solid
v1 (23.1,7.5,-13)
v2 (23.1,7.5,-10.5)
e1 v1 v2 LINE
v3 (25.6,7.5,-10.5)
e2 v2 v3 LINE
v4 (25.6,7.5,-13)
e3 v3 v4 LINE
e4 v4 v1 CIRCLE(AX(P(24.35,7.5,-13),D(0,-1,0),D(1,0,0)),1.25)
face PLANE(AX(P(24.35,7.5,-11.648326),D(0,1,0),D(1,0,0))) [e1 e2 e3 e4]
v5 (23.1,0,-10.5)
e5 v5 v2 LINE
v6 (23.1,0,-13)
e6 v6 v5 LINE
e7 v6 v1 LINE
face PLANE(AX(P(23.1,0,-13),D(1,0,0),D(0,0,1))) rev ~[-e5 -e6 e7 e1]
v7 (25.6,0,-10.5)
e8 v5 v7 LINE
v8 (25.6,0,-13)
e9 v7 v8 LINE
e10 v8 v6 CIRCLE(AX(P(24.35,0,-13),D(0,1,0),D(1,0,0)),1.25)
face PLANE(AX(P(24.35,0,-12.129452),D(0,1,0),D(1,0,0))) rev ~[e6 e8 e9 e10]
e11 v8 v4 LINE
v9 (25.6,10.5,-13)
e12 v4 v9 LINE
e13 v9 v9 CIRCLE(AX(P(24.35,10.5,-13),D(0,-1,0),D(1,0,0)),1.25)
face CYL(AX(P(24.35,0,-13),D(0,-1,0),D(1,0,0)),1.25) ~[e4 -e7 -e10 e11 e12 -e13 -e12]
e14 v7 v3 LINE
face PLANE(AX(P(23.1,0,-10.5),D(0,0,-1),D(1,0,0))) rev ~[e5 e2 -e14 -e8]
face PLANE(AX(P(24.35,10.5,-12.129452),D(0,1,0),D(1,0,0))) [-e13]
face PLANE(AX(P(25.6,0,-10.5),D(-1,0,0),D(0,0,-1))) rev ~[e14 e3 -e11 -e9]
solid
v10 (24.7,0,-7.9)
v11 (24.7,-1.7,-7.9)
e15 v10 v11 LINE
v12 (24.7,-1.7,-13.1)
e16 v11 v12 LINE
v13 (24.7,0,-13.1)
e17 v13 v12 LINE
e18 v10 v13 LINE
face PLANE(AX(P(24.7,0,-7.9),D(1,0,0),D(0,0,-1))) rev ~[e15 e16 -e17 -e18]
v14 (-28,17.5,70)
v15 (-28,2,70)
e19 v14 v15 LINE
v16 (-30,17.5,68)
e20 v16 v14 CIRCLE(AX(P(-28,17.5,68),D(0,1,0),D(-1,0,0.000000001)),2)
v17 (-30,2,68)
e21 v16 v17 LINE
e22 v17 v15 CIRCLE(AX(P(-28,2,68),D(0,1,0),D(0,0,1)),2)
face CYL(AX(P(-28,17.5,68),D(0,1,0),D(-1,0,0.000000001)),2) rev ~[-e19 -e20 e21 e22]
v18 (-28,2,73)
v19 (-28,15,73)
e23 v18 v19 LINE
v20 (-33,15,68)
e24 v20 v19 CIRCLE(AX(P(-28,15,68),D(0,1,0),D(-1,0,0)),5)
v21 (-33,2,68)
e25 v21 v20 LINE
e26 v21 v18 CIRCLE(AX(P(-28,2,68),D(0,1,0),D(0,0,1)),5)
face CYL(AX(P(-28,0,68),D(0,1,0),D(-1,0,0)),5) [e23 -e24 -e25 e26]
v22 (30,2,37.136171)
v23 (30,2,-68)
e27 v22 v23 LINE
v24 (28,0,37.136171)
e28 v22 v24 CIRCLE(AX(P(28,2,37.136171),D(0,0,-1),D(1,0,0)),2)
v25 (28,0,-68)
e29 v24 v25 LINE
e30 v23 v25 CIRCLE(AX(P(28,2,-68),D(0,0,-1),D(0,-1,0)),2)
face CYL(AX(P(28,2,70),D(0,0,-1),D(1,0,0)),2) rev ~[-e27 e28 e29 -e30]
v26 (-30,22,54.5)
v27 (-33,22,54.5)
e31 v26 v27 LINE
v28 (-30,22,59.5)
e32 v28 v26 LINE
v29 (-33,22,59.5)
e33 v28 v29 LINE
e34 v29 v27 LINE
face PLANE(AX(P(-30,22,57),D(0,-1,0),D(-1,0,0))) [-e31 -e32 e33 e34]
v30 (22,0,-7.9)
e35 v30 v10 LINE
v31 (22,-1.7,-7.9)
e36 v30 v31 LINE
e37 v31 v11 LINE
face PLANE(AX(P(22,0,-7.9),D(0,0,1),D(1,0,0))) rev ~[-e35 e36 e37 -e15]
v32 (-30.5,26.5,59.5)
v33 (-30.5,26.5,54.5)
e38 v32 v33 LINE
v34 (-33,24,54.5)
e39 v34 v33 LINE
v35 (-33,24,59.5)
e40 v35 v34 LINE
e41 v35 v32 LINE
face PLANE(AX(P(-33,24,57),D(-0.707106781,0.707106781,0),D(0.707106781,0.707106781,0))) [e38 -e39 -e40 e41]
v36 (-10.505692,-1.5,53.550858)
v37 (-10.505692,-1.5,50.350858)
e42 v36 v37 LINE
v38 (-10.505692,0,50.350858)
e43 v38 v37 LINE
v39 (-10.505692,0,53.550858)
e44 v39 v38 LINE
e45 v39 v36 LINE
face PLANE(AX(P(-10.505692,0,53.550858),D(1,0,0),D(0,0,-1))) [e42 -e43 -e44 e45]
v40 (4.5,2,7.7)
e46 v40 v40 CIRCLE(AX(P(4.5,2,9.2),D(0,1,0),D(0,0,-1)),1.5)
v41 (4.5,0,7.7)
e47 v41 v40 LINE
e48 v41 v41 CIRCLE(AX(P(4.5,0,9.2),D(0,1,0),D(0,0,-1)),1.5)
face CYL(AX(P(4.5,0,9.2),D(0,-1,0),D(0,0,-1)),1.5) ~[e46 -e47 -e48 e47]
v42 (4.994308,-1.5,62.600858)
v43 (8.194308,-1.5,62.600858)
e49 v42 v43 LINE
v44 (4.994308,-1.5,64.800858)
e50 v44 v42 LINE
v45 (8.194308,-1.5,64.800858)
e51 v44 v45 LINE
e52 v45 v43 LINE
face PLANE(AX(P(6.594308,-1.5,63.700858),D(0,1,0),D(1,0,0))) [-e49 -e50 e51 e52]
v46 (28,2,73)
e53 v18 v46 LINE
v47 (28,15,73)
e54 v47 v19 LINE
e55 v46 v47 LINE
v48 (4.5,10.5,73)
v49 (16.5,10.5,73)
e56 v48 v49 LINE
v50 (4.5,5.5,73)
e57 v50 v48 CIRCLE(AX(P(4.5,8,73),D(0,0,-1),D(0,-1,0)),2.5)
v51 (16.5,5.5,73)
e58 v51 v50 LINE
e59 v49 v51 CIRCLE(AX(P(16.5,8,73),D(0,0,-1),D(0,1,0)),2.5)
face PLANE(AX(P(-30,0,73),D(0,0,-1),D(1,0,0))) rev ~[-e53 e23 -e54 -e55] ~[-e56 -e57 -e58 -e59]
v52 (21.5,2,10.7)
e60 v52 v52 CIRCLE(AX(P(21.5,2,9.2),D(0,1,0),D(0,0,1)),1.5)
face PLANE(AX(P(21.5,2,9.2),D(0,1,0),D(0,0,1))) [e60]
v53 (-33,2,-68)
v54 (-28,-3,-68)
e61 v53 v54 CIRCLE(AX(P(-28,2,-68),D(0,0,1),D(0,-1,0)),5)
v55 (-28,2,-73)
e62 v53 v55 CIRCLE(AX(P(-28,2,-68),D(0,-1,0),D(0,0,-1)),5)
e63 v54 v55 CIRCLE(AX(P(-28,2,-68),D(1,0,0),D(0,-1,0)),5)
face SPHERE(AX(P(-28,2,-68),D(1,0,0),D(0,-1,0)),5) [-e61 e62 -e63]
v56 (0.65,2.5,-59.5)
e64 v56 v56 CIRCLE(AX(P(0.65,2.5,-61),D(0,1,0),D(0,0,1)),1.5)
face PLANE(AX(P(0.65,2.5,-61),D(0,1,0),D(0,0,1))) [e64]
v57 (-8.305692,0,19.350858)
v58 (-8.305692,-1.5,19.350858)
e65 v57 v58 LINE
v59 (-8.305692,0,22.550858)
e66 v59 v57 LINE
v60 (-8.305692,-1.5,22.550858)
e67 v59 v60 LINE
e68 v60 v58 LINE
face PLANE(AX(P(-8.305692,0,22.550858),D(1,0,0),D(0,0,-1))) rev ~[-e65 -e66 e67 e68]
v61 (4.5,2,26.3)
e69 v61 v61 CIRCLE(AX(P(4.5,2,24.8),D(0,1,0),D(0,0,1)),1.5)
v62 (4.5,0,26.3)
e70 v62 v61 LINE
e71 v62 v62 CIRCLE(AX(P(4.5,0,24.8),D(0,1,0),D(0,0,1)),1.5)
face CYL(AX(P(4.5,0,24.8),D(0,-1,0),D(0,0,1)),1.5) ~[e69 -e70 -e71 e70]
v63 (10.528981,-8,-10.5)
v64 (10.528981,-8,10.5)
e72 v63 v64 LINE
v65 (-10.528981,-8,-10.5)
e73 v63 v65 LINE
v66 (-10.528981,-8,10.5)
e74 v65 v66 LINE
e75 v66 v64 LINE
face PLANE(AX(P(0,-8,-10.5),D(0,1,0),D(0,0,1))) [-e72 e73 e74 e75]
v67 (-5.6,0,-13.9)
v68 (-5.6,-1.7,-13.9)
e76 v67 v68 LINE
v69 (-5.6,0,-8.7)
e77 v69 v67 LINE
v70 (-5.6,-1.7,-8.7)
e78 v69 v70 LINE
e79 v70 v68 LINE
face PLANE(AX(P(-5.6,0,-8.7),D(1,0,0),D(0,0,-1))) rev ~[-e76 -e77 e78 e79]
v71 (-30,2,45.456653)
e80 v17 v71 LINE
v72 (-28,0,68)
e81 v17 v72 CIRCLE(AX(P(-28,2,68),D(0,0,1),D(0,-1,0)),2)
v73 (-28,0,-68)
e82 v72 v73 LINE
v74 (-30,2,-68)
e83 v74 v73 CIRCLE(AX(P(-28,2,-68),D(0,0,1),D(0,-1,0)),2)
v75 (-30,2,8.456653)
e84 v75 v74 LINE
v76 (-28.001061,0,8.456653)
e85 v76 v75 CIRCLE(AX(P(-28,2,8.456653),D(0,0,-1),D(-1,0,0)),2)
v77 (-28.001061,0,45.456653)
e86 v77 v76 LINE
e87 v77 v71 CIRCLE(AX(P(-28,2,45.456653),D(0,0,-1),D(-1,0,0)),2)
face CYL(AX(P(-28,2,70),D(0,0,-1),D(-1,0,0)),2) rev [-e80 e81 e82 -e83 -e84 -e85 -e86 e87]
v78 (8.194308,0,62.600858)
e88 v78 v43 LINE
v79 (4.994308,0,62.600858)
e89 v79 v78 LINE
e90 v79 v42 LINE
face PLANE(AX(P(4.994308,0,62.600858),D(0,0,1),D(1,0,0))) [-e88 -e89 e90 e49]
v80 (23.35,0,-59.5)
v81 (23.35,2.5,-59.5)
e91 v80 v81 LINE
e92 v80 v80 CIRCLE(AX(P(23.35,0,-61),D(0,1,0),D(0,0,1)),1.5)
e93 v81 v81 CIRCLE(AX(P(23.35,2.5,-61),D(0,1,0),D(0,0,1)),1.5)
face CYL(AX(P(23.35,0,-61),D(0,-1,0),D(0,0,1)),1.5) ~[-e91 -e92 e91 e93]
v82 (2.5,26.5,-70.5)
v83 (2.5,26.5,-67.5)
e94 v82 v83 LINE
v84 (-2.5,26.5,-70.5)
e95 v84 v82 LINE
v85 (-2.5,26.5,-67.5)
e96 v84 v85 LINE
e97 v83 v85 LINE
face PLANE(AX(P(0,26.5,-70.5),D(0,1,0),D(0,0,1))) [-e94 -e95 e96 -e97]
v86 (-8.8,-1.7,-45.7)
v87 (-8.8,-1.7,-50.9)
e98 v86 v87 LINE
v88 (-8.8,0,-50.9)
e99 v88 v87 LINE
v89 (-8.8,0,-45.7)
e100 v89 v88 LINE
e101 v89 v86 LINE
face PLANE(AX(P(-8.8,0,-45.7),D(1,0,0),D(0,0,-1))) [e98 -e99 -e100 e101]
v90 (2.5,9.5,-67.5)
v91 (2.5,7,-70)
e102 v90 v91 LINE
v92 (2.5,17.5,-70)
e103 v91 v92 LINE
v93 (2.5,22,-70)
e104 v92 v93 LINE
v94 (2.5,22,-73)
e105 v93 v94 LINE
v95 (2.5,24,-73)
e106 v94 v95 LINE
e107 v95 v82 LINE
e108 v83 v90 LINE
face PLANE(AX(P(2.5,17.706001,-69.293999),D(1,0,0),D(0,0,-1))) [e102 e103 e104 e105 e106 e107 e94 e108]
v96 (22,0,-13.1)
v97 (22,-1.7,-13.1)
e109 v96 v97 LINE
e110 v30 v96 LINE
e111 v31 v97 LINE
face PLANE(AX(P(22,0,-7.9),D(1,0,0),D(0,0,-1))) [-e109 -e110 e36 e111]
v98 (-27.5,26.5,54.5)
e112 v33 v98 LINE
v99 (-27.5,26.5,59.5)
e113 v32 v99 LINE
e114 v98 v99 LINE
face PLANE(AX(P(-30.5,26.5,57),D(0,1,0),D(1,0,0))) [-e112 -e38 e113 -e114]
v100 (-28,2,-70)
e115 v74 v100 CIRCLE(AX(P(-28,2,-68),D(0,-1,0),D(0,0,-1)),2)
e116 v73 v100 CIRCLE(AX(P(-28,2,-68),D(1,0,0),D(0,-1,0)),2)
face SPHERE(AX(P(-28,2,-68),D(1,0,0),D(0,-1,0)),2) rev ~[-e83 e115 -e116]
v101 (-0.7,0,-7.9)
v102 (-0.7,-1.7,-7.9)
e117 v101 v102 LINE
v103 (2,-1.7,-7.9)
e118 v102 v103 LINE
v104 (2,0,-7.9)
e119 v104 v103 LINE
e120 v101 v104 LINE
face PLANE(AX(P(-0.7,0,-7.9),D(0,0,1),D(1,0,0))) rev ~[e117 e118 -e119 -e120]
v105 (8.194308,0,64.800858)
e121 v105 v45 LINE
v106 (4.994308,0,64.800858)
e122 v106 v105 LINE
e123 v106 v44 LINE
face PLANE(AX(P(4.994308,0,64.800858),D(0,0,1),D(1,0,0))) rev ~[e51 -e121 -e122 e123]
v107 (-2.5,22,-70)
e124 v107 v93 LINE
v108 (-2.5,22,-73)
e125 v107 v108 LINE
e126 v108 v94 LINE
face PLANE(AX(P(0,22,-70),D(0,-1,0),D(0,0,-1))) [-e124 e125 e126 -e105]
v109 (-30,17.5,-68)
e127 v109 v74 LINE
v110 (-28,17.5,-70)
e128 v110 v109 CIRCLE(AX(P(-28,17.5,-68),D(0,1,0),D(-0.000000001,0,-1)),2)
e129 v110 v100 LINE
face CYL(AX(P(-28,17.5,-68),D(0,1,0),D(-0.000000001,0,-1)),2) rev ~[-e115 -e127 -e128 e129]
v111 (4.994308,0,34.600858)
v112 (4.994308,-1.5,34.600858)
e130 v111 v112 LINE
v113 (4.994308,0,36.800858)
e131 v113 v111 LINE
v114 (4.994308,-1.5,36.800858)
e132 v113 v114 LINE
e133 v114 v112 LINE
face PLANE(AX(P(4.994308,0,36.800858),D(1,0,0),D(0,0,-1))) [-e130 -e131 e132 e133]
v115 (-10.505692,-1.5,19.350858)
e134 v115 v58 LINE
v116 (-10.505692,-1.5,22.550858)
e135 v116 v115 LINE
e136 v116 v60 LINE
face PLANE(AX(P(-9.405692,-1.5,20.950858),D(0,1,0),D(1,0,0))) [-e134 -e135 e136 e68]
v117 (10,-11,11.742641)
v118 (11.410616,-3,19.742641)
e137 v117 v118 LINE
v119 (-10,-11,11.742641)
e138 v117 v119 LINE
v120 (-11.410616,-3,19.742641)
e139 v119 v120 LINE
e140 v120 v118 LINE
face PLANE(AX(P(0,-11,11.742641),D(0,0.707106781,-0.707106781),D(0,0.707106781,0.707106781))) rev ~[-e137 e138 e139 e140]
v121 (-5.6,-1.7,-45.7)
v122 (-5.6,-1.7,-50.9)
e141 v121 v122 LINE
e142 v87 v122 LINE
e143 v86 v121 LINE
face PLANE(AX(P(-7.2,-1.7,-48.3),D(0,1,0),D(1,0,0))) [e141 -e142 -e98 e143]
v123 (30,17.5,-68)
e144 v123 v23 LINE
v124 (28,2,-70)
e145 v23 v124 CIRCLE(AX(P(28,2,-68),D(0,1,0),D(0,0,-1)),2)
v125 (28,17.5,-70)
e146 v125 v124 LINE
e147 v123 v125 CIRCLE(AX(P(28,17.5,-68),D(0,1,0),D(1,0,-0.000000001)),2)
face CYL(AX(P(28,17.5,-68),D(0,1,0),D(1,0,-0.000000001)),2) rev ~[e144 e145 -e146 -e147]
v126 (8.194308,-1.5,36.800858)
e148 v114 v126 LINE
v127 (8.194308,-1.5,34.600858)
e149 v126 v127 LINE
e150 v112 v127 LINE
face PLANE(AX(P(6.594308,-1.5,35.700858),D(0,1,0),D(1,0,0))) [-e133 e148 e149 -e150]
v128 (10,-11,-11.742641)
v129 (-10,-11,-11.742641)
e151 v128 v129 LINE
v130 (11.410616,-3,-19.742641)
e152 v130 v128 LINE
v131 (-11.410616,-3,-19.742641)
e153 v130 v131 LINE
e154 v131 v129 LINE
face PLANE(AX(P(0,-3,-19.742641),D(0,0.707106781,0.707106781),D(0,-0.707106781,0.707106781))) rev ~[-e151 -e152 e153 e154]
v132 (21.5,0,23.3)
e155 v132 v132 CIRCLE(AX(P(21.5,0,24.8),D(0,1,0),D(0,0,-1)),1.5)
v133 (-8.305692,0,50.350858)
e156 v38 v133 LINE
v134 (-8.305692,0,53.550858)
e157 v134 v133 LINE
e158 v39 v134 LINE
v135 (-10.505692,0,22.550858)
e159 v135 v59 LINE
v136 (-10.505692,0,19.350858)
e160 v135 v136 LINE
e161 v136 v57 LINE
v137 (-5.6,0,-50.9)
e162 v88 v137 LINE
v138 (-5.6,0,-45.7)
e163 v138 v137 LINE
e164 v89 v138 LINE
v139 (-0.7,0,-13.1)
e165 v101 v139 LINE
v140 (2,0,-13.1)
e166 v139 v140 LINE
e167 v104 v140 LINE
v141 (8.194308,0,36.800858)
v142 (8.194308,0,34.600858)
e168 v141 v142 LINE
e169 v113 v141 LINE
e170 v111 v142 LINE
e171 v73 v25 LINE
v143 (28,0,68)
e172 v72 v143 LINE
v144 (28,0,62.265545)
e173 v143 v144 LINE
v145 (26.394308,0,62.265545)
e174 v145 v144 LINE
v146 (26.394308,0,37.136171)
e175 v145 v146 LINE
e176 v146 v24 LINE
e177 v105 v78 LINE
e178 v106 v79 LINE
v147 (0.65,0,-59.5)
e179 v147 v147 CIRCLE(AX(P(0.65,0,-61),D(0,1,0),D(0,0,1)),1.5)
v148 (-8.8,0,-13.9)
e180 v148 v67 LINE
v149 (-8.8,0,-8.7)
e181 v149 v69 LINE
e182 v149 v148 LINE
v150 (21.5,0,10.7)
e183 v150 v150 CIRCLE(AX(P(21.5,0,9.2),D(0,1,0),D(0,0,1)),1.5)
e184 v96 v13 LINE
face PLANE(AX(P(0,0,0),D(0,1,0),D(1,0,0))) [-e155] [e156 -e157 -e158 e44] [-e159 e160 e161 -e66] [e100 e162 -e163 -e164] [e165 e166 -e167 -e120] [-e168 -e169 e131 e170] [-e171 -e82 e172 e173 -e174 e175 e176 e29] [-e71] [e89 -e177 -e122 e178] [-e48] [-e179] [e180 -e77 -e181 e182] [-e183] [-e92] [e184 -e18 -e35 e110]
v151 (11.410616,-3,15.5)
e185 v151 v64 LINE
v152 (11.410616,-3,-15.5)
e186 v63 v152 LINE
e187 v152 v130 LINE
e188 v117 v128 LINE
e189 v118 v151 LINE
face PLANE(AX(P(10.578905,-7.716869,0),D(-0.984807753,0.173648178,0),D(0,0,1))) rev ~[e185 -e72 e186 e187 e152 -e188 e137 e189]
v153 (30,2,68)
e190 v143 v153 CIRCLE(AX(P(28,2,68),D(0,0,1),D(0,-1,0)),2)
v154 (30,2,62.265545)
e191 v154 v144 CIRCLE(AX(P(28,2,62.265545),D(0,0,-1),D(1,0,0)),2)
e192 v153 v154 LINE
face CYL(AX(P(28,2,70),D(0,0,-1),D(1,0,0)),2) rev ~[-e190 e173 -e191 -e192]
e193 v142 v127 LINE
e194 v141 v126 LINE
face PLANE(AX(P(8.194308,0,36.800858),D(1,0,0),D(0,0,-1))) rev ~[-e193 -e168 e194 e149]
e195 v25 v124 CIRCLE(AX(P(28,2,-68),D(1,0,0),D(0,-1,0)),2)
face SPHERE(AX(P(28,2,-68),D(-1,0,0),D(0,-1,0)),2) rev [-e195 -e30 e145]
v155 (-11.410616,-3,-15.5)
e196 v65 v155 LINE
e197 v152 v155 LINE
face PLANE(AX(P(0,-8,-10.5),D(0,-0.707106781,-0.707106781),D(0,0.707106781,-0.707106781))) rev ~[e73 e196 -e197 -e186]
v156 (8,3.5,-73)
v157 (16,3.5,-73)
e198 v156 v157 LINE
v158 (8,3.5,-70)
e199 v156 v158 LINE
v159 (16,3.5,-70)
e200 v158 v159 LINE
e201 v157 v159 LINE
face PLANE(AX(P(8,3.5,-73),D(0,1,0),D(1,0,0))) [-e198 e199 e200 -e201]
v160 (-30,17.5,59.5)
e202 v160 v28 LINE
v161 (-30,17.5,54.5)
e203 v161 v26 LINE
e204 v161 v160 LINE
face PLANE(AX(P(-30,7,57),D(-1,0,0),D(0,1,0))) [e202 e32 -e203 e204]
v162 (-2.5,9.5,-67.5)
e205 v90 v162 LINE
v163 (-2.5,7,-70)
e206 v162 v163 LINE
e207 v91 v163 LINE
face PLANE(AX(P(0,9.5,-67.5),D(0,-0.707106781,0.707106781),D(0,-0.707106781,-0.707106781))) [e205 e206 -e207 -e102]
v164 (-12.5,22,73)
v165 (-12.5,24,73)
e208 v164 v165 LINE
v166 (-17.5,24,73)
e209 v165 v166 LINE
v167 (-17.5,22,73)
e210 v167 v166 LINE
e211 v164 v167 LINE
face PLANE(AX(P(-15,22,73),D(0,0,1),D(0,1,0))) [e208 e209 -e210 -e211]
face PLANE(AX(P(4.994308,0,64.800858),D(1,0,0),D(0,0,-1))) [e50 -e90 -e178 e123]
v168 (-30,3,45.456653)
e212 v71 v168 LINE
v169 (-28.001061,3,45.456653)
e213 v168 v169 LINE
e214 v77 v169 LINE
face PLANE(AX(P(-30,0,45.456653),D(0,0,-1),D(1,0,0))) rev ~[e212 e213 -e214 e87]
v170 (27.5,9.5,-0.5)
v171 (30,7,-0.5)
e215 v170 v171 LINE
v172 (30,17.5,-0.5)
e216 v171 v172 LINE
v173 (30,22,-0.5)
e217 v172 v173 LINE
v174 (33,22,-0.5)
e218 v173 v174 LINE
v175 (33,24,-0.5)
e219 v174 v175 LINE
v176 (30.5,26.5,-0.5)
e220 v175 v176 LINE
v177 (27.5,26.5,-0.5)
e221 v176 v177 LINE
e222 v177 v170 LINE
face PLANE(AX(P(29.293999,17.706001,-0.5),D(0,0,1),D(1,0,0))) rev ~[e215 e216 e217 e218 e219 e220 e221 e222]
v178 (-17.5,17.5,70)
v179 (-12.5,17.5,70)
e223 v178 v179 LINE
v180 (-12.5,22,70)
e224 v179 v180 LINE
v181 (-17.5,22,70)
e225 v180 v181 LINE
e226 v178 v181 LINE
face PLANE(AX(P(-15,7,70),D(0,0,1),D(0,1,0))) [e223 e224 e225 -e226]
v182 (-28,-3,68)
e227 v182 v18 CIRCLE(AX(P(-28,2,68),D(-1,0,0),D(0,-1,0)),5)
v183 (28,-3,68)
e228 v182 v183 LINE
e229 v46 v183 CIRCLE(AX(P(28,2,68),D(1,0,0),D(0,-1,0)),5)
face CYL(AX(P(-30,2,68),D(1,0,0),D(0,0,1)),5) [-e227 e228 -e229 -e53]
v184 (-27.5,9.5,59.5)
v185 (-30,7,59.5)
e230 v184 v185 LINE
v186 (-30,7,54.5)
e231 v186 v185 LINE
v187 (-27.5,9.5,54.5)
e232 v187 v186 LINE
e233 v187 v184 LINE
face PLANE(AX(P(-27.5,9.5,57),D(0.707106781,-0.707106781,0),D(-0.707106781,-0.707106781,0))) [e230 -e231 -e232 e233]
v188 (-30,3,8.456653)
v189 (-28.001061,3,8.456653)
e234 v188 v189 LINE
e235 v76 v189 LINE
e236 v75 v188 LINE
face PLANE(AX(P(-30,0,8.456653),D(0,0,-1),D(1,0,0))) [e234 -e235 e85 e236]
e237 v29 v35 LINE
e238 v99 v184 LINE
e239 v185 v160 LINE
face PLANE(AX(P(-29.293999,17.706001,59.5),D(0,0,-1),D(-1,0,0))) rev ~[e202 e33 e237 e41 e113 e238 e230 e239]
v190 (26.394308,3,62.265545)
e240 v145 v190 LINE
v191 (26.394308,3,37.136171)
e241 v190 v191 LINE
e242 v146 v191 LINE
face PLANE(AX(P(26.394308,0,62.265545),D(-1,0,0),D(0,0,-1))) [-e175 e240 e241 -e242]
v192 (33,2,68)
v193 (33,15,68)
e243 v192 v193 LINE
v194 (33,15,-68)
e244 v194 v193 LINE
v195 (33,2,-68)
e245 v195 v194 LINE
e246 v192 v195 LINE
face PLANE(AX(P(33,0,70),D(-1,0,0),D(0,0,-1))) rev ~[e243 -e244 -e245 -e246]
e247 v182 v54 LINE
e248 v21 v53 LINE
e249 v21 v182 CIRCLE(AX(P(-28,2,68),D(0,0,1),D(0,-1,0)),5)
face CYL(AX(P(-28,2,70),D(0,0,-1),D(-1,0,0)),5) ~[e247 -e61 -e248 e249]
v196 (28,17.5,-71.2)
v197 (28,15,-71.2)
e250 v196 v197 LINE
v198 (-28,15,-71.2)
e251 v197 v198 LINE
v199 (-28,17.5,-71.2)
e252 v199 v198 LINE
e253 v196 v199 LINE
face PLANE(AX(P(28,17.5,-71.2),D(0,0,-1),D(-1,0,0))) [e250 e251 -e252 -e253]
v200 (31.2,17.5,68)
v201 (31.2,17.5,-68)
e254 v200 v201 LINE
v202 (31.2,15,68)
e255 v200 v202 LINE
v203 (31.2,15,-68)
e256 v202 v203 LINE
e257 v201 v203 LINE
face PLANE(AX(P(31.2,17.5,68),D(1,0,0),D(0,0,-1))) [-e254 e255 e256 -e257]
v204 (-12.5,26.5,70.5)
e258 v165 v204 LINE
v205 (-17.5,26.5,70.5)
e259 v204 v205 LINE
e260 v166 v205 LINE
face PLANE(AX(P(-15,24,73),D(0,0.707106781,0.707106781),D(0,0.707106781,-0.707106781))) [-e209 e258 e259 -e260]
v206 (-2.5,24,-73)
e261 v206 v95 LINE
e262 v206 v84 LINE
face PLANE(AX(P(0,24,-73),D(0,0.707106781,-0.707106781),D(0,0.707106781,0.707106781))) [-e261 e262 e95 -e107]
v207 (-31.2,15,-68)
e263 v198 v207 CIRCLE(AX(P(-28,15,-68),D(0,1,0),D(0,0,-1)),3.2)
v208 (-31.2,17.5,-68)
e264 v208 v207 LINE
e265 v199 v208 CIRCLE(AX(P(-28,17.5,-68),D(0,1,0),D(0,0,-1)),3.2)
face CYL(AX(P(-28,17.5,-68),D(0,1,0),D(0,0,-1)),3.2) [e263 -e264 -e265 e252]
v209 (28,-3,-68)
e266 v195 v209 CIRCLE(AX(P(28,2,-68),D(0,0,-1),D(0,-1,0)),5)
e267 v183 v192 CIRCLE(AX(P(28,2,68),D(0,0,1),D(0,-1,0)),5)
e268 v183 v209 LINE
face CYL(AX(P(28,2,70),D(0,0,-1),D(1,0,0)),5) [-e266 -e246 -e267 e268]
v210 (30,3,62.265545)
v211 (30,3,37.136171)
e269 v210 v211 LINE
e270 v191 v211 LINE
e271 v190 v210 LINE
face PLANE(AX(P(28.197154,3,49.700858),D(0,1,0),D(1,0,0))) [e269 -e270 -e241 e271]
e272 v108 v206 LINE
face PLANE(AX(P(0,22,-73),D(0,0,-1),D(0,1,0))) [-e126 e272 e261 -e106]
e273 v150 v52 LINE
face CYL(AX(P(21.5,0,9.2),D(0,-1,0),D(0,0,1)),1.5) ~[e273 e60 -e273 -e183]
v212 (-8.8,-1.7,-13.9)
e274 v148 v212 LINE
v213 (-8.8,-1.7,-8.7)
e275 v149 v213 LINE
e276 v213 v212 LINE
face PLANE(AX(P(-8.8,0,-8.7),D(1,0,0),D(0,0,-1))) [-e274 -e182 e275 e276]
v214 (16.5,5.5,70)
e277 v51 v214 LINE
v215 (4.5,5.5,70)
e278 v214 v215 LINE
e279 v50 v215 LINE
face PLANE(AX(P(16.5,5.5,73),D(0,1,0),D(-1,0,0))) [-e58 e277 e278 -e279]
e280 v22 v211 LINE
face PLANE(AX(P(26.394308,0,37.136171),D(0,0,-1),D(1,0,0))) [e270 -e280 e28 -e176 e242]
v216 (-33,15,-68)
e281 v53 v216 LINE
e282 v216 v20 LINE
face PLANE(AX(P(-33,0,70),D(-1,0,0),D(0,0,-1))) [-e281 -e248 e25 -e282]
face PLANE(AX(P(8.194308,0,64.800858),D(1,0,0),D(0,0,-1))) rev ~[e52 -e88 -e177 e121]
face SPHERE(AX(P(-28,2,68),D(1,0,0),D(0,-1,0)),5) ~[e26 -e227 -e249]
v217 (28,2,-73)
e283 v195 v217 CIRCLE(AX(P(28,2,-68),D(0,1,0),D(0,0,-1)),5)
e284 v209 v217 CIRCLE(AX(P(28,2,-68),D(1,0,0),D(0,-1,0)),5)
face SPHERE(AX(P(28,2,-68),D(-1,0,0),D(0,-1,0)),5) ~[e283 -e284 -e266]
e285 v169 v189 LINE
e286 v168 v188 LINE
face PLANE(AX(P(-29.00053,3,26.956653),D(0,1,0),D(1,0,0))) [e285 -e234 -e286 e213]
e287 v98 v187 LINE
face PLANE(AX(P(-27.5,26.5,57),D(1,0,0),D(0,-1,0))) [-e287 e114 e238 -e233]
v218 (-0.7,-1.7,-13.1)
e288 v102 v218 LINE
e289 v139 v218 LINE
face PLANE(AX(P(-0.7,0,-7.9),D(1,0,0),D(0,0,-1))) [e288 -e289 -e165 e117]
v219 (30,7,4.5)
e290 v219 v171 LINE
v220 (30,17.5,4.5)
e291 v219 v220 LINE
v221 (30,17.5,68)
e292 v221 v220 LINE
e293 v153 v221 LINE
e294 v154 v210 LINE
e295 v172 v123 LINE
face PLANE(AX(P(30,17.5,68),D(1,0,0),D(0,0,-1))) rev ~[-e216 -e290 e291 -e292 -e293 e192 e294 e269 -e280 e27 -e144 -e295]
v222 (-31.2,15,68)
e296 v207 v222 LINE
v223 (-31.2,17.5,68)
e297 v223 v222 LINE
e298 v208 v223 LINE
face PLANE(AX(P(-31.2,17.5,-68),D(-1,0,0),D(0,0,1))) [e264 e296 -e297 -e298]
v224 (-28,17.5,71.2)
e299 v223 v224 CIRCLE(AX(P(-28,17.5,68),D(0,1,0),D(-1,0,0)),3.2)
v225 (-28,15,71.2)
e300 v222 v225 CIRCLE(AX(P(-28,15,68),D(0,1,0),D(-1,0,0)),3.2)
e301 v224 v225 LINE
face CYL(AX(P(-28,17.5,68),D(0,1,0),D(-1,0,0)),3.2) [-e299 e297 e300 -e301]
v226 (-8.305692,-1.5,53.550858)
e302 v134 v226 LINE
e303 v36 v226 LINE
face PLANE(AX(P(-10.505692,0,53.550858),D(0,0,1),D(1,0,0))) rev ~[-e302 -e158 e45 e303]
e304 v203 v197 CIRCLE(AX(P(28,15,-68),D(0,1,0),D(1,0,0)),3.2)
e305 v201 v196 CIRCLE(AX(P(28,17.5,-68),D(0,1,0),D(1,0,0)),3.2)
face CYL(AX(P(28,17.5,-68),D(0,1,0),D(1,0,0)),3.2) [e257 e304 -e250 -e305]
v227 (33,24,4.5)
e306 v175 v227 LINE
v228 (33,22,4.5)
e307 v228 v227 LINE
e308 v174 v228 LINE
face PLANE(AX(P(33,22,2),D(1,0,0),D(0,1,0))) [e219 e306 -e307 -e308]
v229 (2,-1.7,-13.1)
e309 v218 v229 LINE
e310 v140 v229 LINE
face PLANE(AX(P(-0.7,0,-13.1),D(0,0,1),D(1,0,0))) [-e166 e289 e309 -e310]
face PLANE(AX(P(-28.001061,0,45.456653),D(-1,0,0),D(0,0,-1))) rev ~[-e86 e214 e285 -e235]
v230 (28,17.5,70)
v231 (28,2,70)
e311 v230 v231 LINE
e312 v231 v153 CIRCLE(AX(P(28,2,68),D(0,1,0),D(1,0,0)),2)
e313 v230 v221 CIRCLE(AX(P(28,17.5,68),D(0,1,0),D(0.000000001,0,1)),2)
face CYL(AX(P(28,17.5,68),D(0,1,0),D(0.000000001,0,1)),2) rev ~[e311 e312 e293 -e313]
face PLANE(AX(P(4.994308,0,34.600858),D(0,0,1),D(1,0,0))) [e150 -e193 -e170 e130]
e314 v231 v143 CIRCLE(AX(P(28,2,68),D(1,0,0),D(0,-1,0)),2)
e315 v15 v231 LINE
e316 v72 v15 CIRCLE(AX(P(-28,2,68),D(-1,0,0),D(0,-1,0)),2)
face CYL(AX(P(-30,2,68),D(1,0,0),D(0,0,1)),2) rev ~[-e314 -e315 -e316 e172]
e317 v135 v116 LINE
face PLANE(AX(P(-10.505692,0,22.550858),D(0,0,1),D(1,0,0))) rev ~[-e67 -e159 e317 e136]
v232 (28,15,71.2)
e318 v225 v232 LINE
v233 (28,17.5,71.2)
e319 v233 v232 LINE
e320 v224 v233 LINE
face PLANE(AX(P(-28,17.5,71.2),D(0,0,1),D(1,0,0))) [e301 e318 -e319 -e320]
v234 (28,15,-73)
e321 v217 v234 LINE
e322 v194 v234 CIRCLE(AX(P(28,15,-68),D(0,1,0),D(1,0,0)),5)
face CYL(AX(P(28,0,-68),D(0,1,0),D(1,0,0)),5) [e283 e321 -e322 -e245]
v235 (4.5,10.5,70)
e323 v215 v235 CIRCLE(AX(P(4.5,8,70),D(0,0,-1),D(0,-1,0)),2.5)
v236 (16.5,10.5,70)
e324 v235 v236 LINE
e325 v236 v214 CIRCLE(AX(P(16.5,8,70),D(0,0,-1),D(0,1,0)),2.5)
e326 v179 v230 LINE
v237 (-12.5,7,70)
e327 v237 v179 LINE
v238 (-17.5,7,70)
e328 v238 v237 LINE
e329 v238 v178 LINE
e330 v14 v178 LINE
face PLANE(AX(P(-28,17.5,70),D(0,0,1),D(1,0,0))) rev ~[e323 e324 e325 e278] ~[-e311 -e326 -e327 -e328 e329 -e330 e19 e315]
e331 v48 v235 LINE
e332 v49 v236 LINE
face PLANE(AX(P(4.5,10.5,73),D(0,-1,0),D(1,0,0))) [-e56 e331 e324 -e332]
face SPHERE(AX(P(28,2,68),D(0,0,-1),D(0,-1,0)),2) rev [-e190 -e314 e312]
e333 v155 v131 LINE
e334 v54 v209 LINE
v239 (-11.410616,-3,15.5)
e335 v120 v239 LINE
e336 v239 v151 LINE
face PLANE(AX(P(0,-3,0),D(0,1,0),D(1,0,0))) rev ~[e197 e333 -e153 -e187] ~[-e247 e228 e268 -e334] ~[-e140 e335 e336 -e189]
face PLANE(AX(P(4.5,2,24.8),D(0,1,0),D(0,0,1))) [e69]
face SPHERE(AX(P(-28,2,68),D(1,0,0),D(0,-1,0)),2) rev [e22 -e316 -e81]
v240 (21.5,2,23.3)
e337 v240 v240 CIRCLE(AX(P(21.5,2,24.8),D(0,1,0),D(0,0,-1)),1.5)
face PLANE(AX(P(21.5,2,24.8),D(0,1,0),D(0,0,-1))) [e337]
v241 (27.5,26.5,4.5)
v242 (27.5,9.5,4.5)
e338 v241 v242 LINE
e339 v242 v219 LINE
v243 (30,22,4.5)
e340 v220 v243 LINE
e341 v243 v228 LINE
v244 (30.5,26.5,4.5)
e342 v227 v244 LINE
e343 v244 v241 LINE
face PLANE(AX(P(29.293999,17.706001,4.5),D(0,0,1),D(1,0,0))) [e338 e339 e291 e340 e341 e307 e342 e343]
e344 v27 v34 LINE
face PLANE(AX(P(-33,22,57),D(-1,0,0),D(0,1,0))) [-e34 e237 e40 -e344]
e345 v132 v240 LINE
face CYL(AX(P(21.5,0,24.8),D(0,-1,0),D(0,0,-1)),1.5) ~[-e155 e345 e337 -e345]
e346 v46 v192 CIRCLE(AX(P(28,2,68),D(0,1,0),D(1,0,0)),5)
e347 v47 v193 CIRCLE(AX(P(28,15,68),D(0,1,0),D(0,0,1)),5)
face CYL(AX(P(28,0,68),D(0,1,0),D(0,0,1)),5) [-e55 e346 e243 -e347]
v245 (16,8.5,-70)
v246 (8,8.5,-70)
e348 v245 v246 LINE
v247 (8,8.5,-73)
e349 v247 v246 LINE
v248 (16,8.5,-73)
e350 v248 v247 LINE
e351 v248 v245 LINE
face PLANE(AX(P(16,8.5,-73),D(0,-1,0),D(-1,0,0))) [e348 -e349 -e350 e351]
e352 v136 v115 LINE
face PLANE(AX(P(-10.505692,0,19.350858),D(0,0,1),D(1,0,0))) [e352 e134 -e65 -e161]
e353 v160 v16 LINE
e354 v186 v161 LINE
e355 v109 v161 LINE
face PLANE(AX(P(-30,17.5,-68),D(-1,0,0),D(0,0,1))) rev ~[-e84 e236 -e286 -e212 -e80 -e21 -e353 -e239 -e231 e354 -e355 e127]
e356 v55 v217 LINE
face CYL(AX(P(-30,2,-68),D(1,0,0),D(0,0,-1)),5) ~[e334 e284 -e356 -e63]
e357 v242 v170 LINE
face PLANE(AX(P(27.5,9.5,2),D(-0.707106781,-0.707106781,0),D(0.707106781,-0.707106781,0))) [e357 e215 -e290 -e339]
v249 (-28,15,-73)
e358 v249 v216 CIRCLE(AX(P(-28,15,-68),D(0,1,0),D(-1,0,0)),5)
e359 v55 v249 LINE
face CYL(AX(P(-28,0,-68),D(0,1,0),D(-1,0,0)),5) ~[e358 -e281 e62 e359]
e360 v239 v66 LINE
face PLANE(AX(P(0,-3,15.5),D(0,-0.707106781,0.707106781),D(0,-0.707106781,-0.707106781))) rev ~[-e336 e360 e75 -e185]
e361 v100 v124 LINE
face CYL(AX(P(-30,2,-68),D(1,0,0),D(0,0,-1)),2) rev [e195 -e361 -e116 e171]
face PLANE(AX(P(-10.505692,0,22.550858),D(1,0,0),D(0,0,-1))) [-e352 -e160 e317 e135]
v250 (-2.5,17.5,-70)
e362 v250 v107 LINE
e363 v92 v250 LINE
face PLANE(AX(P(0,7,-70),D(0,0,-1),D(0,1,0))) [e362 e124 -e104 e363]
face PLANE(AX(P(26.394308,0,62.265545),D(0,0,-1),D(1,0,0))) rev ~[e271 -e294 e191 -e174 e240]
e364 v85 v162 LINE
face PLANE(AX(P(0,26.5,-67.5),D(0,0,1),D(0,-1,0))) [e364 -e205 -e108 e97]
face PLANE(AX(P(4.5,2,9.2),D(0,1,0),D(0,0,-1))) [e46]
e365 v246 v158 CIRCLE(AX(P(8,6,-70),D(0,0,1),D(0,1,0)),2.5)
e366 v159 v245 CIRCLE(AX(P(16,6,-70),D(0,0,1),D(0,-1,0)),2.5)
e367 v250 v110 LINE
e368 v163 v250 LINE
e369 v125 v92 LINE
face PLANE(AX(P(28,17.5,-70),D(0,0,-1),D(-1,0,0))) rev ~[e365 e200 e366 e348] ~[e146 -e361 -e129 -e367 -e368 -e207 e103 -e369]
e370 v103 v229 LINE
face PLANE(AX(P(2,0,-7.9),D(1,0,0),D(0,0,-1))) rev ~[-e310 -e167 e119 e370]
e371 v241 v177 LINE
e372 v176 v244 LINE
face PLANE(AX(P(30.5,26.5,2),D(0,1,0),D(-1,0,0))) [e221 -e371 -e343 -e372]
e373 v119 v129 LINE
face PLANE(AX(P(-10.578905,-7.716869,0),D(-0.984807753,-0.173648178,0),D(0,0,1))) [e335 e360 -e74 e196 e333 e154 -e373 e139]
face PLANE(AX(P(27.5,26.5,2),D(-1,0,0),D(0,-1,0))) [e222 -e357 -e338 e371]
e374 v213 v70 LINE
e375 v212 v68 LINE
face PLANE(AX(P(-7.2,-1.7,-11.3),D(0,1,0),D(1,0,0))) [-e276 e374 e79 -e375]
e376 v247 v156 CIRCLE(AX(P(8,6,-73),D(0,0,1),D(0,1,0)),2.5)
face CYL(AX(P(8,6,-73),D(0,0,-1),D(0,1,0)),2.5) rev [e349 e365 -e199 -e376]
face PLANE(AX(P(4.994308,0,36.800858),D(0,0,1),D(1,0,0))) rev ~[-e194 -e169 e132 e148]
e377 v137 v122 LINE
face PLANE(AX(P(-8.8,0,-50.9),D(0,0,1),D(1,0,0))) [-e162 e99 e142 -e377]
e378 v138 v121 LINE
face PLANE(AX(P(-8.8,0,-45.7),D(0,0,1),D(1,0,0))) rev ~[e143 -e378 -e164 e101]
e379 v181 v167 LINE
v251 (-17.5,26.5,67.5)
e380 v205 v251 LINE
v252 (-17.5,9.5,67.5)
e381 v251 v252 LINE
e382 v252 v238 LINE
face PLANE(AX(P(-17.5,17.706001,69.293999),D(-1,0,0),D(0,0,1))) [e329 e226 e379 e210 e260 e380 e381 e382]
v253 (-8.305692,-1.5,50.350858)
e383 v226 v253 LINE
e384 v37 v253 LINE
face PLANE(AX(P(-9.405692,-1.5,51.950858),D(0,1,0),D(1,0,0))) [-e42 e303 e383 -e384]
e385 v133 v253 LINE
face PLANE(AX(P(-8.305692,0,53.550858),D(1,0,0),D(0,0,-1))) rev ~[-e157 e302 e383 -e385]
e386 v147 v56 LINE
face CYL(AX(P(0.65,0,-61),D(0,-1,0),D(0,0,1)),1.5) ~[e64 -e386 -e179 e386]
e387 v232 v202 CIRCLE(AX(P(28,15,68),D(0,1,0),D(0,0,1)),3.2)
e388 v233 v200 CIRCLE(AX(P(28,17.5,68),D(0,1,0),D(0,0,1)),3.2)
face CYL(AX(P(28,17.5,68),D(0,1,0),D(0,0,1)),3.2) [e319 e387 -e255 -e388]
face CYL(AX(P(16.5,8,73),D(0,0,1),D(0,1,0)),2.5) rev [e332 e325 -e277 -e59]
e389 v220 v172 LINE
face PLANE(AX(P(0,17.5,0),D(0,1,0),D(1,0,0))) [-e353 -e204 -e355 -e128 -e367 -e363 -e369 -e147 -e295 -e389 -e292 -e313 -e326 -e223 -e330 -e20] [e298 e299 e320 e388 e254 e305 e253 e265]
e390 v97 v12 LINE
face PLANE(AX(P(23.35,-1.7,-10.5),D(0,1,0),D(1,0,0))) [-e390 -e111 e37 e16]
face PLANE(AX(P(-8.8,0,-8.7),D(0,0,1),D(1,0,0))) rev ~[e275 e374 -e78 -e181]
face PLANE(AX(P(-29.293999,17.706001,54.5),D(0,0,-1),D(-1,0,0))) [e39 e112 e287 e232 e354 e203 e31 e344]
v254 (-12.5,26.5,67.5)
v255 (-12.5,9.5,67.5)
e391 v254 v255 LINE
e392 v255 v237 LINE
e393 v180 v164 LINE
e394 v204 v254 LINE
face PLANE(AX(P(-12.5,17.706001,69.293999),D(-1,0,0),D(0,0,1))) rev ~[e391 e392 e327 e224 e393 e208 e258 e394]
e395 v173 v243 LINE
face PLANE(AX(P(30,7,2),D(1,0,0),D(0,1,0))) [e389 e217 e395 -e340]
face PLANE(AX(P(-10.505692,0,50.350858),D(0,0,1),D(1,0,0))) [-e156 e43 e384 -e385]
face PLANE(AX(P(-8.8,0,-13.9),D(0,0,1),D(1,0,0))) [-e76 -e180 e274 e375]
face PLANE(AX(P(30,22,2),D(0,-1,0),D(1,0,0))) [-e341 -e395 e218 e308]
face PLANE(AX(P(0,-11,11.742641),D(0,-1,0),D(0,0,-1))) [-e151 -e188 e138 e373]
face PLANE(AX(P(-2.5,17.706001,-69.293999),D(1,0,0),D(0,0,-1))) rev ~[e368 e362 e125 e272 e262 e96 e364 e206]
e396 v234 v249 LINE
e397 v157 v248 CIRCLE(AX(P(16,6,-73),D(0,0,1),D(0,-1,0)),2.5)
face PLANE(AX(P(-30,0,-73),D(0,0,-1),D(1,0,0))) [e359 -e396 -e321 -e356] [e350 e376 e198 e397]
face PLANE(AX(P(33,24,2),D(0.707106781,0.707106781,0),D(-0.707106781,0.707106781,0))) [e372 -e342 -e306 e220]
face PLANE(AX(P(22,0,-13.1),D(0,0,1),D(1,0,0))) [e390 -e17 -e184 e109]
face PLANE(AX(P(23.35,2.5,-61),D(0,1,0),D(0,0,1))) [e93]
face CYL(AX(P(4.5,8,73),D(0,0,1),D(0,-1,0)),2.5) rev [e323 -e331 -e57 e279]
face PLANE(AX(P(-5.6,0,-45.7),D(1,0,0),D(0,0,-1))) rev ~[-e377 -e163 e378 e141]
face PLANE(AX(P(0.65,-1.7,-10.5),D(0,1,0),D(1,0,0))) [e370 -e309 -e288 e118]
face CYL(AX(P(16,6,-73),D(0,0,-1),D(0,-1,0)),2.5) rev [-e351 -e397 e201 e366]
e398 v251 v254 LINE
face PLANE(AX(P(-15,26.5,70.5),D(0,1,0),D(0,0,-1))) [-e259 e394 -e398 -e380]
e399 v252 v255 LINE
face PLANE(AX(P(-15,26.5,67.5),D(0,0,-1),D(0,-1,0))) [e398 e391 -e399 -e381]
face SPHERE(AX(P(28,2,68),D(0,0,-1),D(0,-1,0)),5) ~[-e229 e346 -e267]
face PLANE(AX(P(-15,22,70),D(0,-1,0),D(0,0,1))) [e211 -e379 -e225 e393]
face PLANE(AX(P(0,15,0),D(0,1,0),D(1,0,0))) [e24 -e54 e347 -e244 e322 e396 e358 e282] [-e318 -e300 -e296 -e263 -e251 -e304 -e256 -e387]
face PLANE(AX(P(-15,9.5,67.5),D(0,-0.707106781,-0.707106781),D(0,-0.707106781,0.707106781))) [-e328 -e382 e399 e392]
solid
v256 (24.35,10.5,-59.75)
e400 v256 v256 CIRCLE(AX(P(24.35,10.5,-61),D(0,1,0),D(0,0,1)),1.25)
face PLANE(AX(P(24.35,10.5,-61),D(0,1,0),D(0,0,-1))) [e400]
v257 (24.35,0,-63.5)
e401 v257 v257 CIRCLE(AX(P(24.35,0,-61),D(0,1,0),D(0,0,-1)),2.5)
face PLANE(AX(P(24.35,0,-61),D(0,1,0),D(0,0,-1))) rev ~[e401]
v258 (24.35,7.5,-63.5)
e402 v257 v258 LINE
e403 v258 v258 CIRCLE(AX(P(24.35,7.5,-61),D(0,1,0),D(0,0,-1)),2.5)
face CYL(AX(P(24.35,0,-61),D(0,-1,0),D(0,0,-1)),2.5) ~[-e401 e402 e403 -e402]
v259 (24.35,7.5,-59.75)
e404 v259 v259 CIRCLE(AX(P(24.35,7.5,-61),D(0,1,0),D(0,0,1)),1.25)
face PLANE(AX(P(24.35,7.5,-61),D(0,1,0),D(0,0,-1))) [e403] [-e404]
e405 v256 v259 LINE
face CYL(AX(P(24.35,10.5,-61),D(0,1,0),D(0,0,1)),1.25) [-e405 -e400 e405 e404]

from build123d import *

# Parameters (mm, degrees)
ESBO_O2_W                  = 60
ESBO_O2_H                  = 140
RESSALTO_EXTRUS_O1_DEPTH   = 15
FILETE2_R                  = 2
CASCA3_T                   = 3
RESSALTO_EXTRUS_O2_START   = 2.5
RESSALTO_EXTRUS_O2_DEPTH   = 2.5
ESBO_O8_R                  = 2.5
RESSALTO_EXTRUS_O4_DEPTH   = 10.5
RESSALTO_EXTRUS_O4_2_DEPTH = 10.5
ESBO_O10_R                 = 2.5
ESBO_O10_R_2               = 1.25
CORTE_EXTRUS_O3_DEPTH      = 3
CORTE_EXTRUS_O2_DEPTH      = 3
CORTE_EXTRUS_O4_DEPTH      = 3
RESSALTO_EXTRUS_O6_DEPTH   = 10
INCLINA_O2_ANGLE           = 10
ESBO_O27_W                 = 1.99893937
ESBO_O27_H                 = 37
ESBO_O27_W_2               = 3.60569188
ESBO_O27_H_2               = 25.129374071
RESSALTO_EXTRUS_O17_DEPTH  = 3
ESBO_O28_W                 = 2.2
ESBO_O28_H                 = 3.2
ESBO_O28_W_2               = 3.2
ESBO_O28_H_2               = 2.2
CORTE_EXTRUS_O5_DEPTH      = 1.5
ESBO_O29_W                 = 3.2
ESBO_O29_H                 = 5.2
CORTE_EXTRUS_O6_DEPTH      = 1.7
ESBO_O30_R                 = 1.5
RESSALTO_EXTRUS_O18_DEPTH  = 2
ESBO_O31_R                 = 1.5
RESSALTO_EXTRUS_O19_DEPTH  = 2.5
ESBO_O32_W                 = 2.7
ESBO_O32_H                 = 5.2
CORTE_EXTRUS_O7_DEPTH      = 1.7
RESSALTO_EXTRUS_O20_DEPTH  = 2.5
RESSALTO_EXTRUS_O21_DEPTH  = 2.5
RESSALTO_EXTRUS_O22_DEPTH  = 2.5
RESSALTO_EXTRUS_O23_DEPTH  = 2.5


with BuildPart() as part:
    # Esboço2 → Ressalto-extrusão1 (new body)
    with BuildSketch(Plane(origin=(0, 0, 0), x_dir=(1, 0, 0), z_dir=(0, 1, 0))):
        Rectangle(ESBO_O2_W, ESBO_O2_H)
    extrude(amount=RESSALTO_EXTRUS_O1_DEPTH)

    # Filete2
    filete2_edges = [part.edges().sort_by_distance(p)[0] for p in [
        (0, 0, -70),
        (30, 0, 0),
        (0, 0, 70),
        (-30, 0, 0),
        (-30, 7.5, -70),
        (30, 7.5, -70),
        (30, 7.5, 70),
        (-30, 7.5, 70),
    ]]
    fillet(filete2_edges, radius=FILETE2_R)

    # Casca3
    casca3_openings = [part.faces().sort_by_distance(p)[0] for p in [
        (0, 15, 0),
    ]]
    offset(amount=CASCA3_T, openings=casca3_openings, kind=Kind.INTERSECTION)

    # Esboço3 → Ressalto-extrusão2 (add)
    with BuildSketch(Plane(origin=(0, 15, 0), x_dir=(1, 0, 0), z_dir=(0, 1, 0)).offset(RESSALTO_EXTRUS_O2_START)):
        with BuildLine():
            Line((31.2, -68), (31.2, 68))
            ThreePointArc((31.2, 68), (30.2627417, 70.2627417), (28, 71.2))
            Line((28, 71.2), (-28, 71.2))
            ThreePointArc((-28, 71.2), (-30.2627417, 70.2627417), (-31.2, 68))
            Line((-31.2, 68), (-31.2, -68))
            ThreePointArc((-31.2, -68), (-30.2627417, -70.2627417), (-28, -71.2))
            Line((-28, -71.2), (28, -71.2))
            ThreePointArc((28, -71.2), (30.2627417, -70.2627417), (31.2, -68))
        make_face()
        with BuildLine():
            Line((30, -68), (30, 68))
            ThreePointArc((30, 68), (29.414213562, 69.414213562), (28, 70))
            Line((28, 70), (-28, 70))
            ThreePointArc((-28, 70), (-29.414213562, 69.414213562), (-30, 68))
            Line((-30, 68), (-30, -68))
            ThreePointArc((-30, -68), (-29.414213562, -69.414213562), (-28, -70))
            Line((-28, -70), (28, -70))
            ThreePointArc((28, -70), (29.414213562, -69.414213562), (30, -68))
        make_face(mode=Mode.SUBTRACT)
    extrude(amount=-RESSALTO_EXTRUS_O2_DEPTH)

    # Esboço11 → Corte-extrusão2 (cut)
    with BuildSketch(Plane(origin=(0, 0, -73), x_dir=(-1, 0, 0), z_dir=(0, 0, -1))):
        with BuildLine():
            Line((-8, 3.5), (-16, 3.5))
            ThreePointArc((-16, 3.5), (-18.5, 6), (-16, 8.5))
            Line((-16, 8.5), (-8, 8.5))
            ThreePointArc((-8, 8.5), (-5.5, 6), (-8, 3.5))
        make_face()
    extrude(amount=-CORTE_EXTRUS_O2_DEPTH, mode=Mode.SUBTRACT)

    # Esboço15 → Corte-extrusão4 (cut)
    with BuildSketch(Plane.XY.offset(73)):
        with BuildLine():
            Line((16.5, 5.5), (4.5, 5.5))
            ThreePointArc((4.5, 5.5), (2, 8), (4.5, 10.5))
            Line((4.5, 10.5), (16.5, 10.5))
            ThreePointArc((16.5, 10.5), (19, 8), (16.5, 5.5))
        make_face()
    extrude(amount=-CORTE_EXTRUS_O4_DEPTH, mode=Mode.SUBTRACT)

    # Esboço12 → Ressalto-extrusão6 (add, symmetric)
    with BuildSketch(Plane(origin=(0, 0, 0), x_dir=(0, 0, -1), z_dir=(1, 0, 0))):
        Polygon((-10.5, -8), (0, -8), (10.5, -8), (15.5, -3), (19.742640687, -3), (11.742640687, -11), (0, -11), (-11.742640687, -11), (-19.742640687, -3), (-15.5, -3), align=None)
    extrude(amount=RESSALTO_EXTRUS_O6_DEPTH, both=True)

    # Inclinação2
    inclina_o2_faces = [part.faces().sort_by_distance(p)[0] for p in [
        (-10, -8.070705529, 0),
        (10, -8.070705529, 0),
    ]]
    draft(inclina_o2_faces, Plane(origin=(10, -11, -11.742640687), x_dir=(0, 0, -1), z_dir=(0, -1, 0)), INCLINA_O2_ANGLE)

    # Esboço27 → Ressalto-extrusão17 (add)
    with BuildSketch(Plane(origin=(0, 0, 0), x_dir=(1, 0, 0), z_dir=(0, 1, 0))):
        with Locations((-29.000530315, -26.956652641)):
            Rectangle(ESBO_O27_W, ESBO_O27_H)
        with Locations((28.19715406, -49.700857668)):
            Rectangle(ESBO_O27_W_2, ESBO_O27_H_2)
    extrude(amount=RESSALTO_EXTRUS_O17_DEPTH)

    # Esboço28 → Corte-extrusão5 (cut)
    with BuildSketch(Plane(origin=(0, 0, 0), x_dir=(1, 0, 0), z_dir=(0, 1, 0))):
        with Locations((-9.40569188, -20.950857667)):
            Rectangle(ESBO_O28_W, ESBO_O28_H)
        with Locations((-9.40569188, -51.950857667)):
            Rectangle(ESBO_O28_W, ESBO_O28_H)
        with Locations((6.59430812, -63.700857667)):
            Rectangle(ESBO_O28_W_2, ESBO_O28_H_2)
        with Locations((6.59430812, -35.700857667)):
            Rectangle(ESBO_O28_W_2, ESBO_O28_H_2)
    extrude(amount=-CORTE_EXTRUS_O5_DEPTH, mode=Mode.SUBTRACT)

    # Esboço29 → Corte-extrusão6 (cut)
    with BuildSketch(Plane(origin=(0, 0, 0), x_dir=(1, 0, 0), z_dir=(0, 1, 0))):
        with Locations((-7.2, 11.3)):
            Rectangle(ESBO_O29_W, ESBO_O29_H)
        with Locations((-7.2, 48.3)):
            Rectangle(ESBO_O29_W, ESBO_O29_H)
    extrude(amount=-CORTE_EXTRUS_O6_DEPTH, mode=Mode.SUBTRACT)

    # Esboço30 → Ressalto-extrusão18 (add)
    with BuildSketch(Plane(origin=(0, 0, 0), x_dir=(1, 0, 0), z_dir=(0, 1, 0))):
        with Locations(Location((4.5, -24.8, 0), (0, 0, 270))):
            Circle(ESBO_O30_R)
        with Locations(Location((4.5, -9.2, 0), (0, 0, 90))):
            Circle(ESBO_O30_R)
        with Locations(Location((21.5, -9.2, 0), (0, 0, 270))):
            Circle(ESBO_O30_R)
        with Locations(Location((21.5, -24.8, 0), (0, 0, 90))):
            Circle(ESBO_O30_R)
    extrude(amount=RESSALTO_EXTRUS_O18_DEPTH)

    # Esboço31 → Ressalto-extrusão19 (add)
    with BuildSketch(Plane(origin=(0, 0, 0), x_dir=(1, 0, 0), z_dir=(0, 1, 0))):
        with Locations(Location((0.65, 61, 0), (0, 0, 270))):
            Circle(ESBO_O31_R)
        with Locations(Location((23.35, 61, 0), (0, 0, 270))):
            Circle(ESBO_O31_R)
    extrude(amount=RESSALTO_EXTRUS_O19_DEPTH)

    # Esboço32 → Corte-extrusão7 (cut)
    with BuildSketch(Plane(origin=(0, 0, 0), x_dir=(1, 0, 0), z_dir=(0, 1, 0))):
        with Locations((0.65, 10.5)):
            Rectangle(ESBO_O32_W, ESBO_O32_H)
        with Locations((23.35, 10.5)):
            Rectangle(ESBO_O32_W, ESBO_O32_H)
    extrude(amount=-CORTE_EXTRUS_O7_DEPTH, mode=Mode.SUBTRACT)

    # Esboço34 → Ressalto-extrusão20 (add, symmetric)
    with BuildSketch(Plane(origin=(0, 0, 57), x_dir=(-1, 0, 0), z_dir=(0, 0, -1))):
        Polygon((30, 7), (30, 22), (33, 22), (33, 24), (30.5, 26.5), (27.5, 26.5), (27.5, 9.5), align=None)
    extrude(amount=RESSALTO_EXTRUS_O20_DEPTH, both=True)

    # Esboço35 → Ressalto-extrusão21 (add, symmetric)
    with BuildSketch(Plane.ZY.offset(15)):
        Polygon((70, 7), (70, 22), (73, 22), (73, 24), (70.5, 26.5), (67.5, 26.5), (67.5, 9.5), align=None)
    extrude(amount=RESSALTO_EXTRUS_O21_DEPTH, both=True)

    # Esboço36 → Ressalto-extrusão22 (add, symmetric)
    with BuildSketch(Plane.XY.offset(2)):
        Polygon((30, 7), (30, 22), (33, 22), (33, 24), (30.5, 26.5), (27.5, 26.5), (27.5, 9.5), align=None)
    extrude(amount=RESSALTO_EXTRUS_O22_DEPTH, both=True)

    # Esboço37 → Ressalto-extrusão23 (add, symmetric)
    with BuildSketch(Plane(origin=(0, 0, 0), x_dir=(0, 0, -1), z_dir=(1, 0, 0))):
        Polygon((70, 7), (70, 22), (73, 22), (73, 24), (70.5, 26.5), (67.5, 26.5), (67.5, 9.5), align=None)
    extrude(amount=RESSALTO_EXTRUS_O23_DEPTH, both=True)


with BuildPart() as body_2:
    # Esboço8 → Ressalto-extrusão4 (new body)
    with BuildSketch(Plane(origin=(0, 0, 0), x_dir=(1, 0, 0), z_dir=(0, 1, 0))):
        with Locations(Location((24.35, 61, 0), (0, 0, 90))):
            Circle(ESBO_O8_R)
    extrude(amount=RESSALTO_EXTRUS_O4_DEPTH)


with BuildPart() as body_3:
    # Esboço8 → Ressalto-extrus_o4 2 (new body)
    with BuildSketch(Plane(origin=(0, 0, 0), x_dir=(1, 0, 0), z_dir=(0, 1, 0))):
        with BuildLine():
            Line((23.1, 13), (23.1, 10.5))
            Line((23.1, 10.5), (25.6, 10.5))
            Line((25.6, 10.5), (25.6, 13))
            ThreePointArc((25.6, 13), (24.35, 14.25), (23.1, 13))
        make_face()
    extrude(amount=RESSALTO_EXTRUS_O4_2_DEPTH)


with BuildPart() as corte_extrus_o3_tool:
    # Esboço10 → Corte-extrusão3 (new body)
    # profile 1 of 2: a face of its own
    with BuildSketch(Plane(origin=(0, 10.5, 0), x_dir=(1, 0, 0), z_dir=(0, 1, 0))):
        with Locations(Location((24.35, 61, 0), (0, 0, 90))):
            Circle(ESBO_O10_R)
        with Locations(Location((24.35, 61, 0), (0, 0, 270))):
            Circle(ESBO_O10_R_2, mode=Mode.SUBTRACT)
    # profile 2 of 2: a face of its own
    with BuildSketch(Plane(origin=(0, 10.5, 0), x_dir=(1, 0, 0), z_dir=(0, 1, 0))):
        with BuildLine():
            Line((25.6, 10.5), (25.6, 13))
            ThreePointArc((25.6, 13), (24.35, 11.75), (23.1, 13))
            Line((23.1, 13), (23.1, 10.5))
            Line((23.1, 10.5), (25.6, 10.5))
        make_face()
    extrude(amount=-CORTE_EXTRUS_O3_DEPTH)


with BuildPart() as body_2_1:
    add(body_2.part)

    # Corte-extrusão3: cut by corte_extrus_o3_tool
    add(corte_extrus_o3_tool.part, mode=Mode.SUBTRACT)


with BuildPart() as body_3_1:
    add(body_3.part)

    # Corte-extrusão3: cut by corte_extrus_o3_tool
    add(corte_extrus_o3_tool.part, mode=Mode.SUBTRACT)


solid = Compound([part.part, body_2_1.part, body_3_1.part])
